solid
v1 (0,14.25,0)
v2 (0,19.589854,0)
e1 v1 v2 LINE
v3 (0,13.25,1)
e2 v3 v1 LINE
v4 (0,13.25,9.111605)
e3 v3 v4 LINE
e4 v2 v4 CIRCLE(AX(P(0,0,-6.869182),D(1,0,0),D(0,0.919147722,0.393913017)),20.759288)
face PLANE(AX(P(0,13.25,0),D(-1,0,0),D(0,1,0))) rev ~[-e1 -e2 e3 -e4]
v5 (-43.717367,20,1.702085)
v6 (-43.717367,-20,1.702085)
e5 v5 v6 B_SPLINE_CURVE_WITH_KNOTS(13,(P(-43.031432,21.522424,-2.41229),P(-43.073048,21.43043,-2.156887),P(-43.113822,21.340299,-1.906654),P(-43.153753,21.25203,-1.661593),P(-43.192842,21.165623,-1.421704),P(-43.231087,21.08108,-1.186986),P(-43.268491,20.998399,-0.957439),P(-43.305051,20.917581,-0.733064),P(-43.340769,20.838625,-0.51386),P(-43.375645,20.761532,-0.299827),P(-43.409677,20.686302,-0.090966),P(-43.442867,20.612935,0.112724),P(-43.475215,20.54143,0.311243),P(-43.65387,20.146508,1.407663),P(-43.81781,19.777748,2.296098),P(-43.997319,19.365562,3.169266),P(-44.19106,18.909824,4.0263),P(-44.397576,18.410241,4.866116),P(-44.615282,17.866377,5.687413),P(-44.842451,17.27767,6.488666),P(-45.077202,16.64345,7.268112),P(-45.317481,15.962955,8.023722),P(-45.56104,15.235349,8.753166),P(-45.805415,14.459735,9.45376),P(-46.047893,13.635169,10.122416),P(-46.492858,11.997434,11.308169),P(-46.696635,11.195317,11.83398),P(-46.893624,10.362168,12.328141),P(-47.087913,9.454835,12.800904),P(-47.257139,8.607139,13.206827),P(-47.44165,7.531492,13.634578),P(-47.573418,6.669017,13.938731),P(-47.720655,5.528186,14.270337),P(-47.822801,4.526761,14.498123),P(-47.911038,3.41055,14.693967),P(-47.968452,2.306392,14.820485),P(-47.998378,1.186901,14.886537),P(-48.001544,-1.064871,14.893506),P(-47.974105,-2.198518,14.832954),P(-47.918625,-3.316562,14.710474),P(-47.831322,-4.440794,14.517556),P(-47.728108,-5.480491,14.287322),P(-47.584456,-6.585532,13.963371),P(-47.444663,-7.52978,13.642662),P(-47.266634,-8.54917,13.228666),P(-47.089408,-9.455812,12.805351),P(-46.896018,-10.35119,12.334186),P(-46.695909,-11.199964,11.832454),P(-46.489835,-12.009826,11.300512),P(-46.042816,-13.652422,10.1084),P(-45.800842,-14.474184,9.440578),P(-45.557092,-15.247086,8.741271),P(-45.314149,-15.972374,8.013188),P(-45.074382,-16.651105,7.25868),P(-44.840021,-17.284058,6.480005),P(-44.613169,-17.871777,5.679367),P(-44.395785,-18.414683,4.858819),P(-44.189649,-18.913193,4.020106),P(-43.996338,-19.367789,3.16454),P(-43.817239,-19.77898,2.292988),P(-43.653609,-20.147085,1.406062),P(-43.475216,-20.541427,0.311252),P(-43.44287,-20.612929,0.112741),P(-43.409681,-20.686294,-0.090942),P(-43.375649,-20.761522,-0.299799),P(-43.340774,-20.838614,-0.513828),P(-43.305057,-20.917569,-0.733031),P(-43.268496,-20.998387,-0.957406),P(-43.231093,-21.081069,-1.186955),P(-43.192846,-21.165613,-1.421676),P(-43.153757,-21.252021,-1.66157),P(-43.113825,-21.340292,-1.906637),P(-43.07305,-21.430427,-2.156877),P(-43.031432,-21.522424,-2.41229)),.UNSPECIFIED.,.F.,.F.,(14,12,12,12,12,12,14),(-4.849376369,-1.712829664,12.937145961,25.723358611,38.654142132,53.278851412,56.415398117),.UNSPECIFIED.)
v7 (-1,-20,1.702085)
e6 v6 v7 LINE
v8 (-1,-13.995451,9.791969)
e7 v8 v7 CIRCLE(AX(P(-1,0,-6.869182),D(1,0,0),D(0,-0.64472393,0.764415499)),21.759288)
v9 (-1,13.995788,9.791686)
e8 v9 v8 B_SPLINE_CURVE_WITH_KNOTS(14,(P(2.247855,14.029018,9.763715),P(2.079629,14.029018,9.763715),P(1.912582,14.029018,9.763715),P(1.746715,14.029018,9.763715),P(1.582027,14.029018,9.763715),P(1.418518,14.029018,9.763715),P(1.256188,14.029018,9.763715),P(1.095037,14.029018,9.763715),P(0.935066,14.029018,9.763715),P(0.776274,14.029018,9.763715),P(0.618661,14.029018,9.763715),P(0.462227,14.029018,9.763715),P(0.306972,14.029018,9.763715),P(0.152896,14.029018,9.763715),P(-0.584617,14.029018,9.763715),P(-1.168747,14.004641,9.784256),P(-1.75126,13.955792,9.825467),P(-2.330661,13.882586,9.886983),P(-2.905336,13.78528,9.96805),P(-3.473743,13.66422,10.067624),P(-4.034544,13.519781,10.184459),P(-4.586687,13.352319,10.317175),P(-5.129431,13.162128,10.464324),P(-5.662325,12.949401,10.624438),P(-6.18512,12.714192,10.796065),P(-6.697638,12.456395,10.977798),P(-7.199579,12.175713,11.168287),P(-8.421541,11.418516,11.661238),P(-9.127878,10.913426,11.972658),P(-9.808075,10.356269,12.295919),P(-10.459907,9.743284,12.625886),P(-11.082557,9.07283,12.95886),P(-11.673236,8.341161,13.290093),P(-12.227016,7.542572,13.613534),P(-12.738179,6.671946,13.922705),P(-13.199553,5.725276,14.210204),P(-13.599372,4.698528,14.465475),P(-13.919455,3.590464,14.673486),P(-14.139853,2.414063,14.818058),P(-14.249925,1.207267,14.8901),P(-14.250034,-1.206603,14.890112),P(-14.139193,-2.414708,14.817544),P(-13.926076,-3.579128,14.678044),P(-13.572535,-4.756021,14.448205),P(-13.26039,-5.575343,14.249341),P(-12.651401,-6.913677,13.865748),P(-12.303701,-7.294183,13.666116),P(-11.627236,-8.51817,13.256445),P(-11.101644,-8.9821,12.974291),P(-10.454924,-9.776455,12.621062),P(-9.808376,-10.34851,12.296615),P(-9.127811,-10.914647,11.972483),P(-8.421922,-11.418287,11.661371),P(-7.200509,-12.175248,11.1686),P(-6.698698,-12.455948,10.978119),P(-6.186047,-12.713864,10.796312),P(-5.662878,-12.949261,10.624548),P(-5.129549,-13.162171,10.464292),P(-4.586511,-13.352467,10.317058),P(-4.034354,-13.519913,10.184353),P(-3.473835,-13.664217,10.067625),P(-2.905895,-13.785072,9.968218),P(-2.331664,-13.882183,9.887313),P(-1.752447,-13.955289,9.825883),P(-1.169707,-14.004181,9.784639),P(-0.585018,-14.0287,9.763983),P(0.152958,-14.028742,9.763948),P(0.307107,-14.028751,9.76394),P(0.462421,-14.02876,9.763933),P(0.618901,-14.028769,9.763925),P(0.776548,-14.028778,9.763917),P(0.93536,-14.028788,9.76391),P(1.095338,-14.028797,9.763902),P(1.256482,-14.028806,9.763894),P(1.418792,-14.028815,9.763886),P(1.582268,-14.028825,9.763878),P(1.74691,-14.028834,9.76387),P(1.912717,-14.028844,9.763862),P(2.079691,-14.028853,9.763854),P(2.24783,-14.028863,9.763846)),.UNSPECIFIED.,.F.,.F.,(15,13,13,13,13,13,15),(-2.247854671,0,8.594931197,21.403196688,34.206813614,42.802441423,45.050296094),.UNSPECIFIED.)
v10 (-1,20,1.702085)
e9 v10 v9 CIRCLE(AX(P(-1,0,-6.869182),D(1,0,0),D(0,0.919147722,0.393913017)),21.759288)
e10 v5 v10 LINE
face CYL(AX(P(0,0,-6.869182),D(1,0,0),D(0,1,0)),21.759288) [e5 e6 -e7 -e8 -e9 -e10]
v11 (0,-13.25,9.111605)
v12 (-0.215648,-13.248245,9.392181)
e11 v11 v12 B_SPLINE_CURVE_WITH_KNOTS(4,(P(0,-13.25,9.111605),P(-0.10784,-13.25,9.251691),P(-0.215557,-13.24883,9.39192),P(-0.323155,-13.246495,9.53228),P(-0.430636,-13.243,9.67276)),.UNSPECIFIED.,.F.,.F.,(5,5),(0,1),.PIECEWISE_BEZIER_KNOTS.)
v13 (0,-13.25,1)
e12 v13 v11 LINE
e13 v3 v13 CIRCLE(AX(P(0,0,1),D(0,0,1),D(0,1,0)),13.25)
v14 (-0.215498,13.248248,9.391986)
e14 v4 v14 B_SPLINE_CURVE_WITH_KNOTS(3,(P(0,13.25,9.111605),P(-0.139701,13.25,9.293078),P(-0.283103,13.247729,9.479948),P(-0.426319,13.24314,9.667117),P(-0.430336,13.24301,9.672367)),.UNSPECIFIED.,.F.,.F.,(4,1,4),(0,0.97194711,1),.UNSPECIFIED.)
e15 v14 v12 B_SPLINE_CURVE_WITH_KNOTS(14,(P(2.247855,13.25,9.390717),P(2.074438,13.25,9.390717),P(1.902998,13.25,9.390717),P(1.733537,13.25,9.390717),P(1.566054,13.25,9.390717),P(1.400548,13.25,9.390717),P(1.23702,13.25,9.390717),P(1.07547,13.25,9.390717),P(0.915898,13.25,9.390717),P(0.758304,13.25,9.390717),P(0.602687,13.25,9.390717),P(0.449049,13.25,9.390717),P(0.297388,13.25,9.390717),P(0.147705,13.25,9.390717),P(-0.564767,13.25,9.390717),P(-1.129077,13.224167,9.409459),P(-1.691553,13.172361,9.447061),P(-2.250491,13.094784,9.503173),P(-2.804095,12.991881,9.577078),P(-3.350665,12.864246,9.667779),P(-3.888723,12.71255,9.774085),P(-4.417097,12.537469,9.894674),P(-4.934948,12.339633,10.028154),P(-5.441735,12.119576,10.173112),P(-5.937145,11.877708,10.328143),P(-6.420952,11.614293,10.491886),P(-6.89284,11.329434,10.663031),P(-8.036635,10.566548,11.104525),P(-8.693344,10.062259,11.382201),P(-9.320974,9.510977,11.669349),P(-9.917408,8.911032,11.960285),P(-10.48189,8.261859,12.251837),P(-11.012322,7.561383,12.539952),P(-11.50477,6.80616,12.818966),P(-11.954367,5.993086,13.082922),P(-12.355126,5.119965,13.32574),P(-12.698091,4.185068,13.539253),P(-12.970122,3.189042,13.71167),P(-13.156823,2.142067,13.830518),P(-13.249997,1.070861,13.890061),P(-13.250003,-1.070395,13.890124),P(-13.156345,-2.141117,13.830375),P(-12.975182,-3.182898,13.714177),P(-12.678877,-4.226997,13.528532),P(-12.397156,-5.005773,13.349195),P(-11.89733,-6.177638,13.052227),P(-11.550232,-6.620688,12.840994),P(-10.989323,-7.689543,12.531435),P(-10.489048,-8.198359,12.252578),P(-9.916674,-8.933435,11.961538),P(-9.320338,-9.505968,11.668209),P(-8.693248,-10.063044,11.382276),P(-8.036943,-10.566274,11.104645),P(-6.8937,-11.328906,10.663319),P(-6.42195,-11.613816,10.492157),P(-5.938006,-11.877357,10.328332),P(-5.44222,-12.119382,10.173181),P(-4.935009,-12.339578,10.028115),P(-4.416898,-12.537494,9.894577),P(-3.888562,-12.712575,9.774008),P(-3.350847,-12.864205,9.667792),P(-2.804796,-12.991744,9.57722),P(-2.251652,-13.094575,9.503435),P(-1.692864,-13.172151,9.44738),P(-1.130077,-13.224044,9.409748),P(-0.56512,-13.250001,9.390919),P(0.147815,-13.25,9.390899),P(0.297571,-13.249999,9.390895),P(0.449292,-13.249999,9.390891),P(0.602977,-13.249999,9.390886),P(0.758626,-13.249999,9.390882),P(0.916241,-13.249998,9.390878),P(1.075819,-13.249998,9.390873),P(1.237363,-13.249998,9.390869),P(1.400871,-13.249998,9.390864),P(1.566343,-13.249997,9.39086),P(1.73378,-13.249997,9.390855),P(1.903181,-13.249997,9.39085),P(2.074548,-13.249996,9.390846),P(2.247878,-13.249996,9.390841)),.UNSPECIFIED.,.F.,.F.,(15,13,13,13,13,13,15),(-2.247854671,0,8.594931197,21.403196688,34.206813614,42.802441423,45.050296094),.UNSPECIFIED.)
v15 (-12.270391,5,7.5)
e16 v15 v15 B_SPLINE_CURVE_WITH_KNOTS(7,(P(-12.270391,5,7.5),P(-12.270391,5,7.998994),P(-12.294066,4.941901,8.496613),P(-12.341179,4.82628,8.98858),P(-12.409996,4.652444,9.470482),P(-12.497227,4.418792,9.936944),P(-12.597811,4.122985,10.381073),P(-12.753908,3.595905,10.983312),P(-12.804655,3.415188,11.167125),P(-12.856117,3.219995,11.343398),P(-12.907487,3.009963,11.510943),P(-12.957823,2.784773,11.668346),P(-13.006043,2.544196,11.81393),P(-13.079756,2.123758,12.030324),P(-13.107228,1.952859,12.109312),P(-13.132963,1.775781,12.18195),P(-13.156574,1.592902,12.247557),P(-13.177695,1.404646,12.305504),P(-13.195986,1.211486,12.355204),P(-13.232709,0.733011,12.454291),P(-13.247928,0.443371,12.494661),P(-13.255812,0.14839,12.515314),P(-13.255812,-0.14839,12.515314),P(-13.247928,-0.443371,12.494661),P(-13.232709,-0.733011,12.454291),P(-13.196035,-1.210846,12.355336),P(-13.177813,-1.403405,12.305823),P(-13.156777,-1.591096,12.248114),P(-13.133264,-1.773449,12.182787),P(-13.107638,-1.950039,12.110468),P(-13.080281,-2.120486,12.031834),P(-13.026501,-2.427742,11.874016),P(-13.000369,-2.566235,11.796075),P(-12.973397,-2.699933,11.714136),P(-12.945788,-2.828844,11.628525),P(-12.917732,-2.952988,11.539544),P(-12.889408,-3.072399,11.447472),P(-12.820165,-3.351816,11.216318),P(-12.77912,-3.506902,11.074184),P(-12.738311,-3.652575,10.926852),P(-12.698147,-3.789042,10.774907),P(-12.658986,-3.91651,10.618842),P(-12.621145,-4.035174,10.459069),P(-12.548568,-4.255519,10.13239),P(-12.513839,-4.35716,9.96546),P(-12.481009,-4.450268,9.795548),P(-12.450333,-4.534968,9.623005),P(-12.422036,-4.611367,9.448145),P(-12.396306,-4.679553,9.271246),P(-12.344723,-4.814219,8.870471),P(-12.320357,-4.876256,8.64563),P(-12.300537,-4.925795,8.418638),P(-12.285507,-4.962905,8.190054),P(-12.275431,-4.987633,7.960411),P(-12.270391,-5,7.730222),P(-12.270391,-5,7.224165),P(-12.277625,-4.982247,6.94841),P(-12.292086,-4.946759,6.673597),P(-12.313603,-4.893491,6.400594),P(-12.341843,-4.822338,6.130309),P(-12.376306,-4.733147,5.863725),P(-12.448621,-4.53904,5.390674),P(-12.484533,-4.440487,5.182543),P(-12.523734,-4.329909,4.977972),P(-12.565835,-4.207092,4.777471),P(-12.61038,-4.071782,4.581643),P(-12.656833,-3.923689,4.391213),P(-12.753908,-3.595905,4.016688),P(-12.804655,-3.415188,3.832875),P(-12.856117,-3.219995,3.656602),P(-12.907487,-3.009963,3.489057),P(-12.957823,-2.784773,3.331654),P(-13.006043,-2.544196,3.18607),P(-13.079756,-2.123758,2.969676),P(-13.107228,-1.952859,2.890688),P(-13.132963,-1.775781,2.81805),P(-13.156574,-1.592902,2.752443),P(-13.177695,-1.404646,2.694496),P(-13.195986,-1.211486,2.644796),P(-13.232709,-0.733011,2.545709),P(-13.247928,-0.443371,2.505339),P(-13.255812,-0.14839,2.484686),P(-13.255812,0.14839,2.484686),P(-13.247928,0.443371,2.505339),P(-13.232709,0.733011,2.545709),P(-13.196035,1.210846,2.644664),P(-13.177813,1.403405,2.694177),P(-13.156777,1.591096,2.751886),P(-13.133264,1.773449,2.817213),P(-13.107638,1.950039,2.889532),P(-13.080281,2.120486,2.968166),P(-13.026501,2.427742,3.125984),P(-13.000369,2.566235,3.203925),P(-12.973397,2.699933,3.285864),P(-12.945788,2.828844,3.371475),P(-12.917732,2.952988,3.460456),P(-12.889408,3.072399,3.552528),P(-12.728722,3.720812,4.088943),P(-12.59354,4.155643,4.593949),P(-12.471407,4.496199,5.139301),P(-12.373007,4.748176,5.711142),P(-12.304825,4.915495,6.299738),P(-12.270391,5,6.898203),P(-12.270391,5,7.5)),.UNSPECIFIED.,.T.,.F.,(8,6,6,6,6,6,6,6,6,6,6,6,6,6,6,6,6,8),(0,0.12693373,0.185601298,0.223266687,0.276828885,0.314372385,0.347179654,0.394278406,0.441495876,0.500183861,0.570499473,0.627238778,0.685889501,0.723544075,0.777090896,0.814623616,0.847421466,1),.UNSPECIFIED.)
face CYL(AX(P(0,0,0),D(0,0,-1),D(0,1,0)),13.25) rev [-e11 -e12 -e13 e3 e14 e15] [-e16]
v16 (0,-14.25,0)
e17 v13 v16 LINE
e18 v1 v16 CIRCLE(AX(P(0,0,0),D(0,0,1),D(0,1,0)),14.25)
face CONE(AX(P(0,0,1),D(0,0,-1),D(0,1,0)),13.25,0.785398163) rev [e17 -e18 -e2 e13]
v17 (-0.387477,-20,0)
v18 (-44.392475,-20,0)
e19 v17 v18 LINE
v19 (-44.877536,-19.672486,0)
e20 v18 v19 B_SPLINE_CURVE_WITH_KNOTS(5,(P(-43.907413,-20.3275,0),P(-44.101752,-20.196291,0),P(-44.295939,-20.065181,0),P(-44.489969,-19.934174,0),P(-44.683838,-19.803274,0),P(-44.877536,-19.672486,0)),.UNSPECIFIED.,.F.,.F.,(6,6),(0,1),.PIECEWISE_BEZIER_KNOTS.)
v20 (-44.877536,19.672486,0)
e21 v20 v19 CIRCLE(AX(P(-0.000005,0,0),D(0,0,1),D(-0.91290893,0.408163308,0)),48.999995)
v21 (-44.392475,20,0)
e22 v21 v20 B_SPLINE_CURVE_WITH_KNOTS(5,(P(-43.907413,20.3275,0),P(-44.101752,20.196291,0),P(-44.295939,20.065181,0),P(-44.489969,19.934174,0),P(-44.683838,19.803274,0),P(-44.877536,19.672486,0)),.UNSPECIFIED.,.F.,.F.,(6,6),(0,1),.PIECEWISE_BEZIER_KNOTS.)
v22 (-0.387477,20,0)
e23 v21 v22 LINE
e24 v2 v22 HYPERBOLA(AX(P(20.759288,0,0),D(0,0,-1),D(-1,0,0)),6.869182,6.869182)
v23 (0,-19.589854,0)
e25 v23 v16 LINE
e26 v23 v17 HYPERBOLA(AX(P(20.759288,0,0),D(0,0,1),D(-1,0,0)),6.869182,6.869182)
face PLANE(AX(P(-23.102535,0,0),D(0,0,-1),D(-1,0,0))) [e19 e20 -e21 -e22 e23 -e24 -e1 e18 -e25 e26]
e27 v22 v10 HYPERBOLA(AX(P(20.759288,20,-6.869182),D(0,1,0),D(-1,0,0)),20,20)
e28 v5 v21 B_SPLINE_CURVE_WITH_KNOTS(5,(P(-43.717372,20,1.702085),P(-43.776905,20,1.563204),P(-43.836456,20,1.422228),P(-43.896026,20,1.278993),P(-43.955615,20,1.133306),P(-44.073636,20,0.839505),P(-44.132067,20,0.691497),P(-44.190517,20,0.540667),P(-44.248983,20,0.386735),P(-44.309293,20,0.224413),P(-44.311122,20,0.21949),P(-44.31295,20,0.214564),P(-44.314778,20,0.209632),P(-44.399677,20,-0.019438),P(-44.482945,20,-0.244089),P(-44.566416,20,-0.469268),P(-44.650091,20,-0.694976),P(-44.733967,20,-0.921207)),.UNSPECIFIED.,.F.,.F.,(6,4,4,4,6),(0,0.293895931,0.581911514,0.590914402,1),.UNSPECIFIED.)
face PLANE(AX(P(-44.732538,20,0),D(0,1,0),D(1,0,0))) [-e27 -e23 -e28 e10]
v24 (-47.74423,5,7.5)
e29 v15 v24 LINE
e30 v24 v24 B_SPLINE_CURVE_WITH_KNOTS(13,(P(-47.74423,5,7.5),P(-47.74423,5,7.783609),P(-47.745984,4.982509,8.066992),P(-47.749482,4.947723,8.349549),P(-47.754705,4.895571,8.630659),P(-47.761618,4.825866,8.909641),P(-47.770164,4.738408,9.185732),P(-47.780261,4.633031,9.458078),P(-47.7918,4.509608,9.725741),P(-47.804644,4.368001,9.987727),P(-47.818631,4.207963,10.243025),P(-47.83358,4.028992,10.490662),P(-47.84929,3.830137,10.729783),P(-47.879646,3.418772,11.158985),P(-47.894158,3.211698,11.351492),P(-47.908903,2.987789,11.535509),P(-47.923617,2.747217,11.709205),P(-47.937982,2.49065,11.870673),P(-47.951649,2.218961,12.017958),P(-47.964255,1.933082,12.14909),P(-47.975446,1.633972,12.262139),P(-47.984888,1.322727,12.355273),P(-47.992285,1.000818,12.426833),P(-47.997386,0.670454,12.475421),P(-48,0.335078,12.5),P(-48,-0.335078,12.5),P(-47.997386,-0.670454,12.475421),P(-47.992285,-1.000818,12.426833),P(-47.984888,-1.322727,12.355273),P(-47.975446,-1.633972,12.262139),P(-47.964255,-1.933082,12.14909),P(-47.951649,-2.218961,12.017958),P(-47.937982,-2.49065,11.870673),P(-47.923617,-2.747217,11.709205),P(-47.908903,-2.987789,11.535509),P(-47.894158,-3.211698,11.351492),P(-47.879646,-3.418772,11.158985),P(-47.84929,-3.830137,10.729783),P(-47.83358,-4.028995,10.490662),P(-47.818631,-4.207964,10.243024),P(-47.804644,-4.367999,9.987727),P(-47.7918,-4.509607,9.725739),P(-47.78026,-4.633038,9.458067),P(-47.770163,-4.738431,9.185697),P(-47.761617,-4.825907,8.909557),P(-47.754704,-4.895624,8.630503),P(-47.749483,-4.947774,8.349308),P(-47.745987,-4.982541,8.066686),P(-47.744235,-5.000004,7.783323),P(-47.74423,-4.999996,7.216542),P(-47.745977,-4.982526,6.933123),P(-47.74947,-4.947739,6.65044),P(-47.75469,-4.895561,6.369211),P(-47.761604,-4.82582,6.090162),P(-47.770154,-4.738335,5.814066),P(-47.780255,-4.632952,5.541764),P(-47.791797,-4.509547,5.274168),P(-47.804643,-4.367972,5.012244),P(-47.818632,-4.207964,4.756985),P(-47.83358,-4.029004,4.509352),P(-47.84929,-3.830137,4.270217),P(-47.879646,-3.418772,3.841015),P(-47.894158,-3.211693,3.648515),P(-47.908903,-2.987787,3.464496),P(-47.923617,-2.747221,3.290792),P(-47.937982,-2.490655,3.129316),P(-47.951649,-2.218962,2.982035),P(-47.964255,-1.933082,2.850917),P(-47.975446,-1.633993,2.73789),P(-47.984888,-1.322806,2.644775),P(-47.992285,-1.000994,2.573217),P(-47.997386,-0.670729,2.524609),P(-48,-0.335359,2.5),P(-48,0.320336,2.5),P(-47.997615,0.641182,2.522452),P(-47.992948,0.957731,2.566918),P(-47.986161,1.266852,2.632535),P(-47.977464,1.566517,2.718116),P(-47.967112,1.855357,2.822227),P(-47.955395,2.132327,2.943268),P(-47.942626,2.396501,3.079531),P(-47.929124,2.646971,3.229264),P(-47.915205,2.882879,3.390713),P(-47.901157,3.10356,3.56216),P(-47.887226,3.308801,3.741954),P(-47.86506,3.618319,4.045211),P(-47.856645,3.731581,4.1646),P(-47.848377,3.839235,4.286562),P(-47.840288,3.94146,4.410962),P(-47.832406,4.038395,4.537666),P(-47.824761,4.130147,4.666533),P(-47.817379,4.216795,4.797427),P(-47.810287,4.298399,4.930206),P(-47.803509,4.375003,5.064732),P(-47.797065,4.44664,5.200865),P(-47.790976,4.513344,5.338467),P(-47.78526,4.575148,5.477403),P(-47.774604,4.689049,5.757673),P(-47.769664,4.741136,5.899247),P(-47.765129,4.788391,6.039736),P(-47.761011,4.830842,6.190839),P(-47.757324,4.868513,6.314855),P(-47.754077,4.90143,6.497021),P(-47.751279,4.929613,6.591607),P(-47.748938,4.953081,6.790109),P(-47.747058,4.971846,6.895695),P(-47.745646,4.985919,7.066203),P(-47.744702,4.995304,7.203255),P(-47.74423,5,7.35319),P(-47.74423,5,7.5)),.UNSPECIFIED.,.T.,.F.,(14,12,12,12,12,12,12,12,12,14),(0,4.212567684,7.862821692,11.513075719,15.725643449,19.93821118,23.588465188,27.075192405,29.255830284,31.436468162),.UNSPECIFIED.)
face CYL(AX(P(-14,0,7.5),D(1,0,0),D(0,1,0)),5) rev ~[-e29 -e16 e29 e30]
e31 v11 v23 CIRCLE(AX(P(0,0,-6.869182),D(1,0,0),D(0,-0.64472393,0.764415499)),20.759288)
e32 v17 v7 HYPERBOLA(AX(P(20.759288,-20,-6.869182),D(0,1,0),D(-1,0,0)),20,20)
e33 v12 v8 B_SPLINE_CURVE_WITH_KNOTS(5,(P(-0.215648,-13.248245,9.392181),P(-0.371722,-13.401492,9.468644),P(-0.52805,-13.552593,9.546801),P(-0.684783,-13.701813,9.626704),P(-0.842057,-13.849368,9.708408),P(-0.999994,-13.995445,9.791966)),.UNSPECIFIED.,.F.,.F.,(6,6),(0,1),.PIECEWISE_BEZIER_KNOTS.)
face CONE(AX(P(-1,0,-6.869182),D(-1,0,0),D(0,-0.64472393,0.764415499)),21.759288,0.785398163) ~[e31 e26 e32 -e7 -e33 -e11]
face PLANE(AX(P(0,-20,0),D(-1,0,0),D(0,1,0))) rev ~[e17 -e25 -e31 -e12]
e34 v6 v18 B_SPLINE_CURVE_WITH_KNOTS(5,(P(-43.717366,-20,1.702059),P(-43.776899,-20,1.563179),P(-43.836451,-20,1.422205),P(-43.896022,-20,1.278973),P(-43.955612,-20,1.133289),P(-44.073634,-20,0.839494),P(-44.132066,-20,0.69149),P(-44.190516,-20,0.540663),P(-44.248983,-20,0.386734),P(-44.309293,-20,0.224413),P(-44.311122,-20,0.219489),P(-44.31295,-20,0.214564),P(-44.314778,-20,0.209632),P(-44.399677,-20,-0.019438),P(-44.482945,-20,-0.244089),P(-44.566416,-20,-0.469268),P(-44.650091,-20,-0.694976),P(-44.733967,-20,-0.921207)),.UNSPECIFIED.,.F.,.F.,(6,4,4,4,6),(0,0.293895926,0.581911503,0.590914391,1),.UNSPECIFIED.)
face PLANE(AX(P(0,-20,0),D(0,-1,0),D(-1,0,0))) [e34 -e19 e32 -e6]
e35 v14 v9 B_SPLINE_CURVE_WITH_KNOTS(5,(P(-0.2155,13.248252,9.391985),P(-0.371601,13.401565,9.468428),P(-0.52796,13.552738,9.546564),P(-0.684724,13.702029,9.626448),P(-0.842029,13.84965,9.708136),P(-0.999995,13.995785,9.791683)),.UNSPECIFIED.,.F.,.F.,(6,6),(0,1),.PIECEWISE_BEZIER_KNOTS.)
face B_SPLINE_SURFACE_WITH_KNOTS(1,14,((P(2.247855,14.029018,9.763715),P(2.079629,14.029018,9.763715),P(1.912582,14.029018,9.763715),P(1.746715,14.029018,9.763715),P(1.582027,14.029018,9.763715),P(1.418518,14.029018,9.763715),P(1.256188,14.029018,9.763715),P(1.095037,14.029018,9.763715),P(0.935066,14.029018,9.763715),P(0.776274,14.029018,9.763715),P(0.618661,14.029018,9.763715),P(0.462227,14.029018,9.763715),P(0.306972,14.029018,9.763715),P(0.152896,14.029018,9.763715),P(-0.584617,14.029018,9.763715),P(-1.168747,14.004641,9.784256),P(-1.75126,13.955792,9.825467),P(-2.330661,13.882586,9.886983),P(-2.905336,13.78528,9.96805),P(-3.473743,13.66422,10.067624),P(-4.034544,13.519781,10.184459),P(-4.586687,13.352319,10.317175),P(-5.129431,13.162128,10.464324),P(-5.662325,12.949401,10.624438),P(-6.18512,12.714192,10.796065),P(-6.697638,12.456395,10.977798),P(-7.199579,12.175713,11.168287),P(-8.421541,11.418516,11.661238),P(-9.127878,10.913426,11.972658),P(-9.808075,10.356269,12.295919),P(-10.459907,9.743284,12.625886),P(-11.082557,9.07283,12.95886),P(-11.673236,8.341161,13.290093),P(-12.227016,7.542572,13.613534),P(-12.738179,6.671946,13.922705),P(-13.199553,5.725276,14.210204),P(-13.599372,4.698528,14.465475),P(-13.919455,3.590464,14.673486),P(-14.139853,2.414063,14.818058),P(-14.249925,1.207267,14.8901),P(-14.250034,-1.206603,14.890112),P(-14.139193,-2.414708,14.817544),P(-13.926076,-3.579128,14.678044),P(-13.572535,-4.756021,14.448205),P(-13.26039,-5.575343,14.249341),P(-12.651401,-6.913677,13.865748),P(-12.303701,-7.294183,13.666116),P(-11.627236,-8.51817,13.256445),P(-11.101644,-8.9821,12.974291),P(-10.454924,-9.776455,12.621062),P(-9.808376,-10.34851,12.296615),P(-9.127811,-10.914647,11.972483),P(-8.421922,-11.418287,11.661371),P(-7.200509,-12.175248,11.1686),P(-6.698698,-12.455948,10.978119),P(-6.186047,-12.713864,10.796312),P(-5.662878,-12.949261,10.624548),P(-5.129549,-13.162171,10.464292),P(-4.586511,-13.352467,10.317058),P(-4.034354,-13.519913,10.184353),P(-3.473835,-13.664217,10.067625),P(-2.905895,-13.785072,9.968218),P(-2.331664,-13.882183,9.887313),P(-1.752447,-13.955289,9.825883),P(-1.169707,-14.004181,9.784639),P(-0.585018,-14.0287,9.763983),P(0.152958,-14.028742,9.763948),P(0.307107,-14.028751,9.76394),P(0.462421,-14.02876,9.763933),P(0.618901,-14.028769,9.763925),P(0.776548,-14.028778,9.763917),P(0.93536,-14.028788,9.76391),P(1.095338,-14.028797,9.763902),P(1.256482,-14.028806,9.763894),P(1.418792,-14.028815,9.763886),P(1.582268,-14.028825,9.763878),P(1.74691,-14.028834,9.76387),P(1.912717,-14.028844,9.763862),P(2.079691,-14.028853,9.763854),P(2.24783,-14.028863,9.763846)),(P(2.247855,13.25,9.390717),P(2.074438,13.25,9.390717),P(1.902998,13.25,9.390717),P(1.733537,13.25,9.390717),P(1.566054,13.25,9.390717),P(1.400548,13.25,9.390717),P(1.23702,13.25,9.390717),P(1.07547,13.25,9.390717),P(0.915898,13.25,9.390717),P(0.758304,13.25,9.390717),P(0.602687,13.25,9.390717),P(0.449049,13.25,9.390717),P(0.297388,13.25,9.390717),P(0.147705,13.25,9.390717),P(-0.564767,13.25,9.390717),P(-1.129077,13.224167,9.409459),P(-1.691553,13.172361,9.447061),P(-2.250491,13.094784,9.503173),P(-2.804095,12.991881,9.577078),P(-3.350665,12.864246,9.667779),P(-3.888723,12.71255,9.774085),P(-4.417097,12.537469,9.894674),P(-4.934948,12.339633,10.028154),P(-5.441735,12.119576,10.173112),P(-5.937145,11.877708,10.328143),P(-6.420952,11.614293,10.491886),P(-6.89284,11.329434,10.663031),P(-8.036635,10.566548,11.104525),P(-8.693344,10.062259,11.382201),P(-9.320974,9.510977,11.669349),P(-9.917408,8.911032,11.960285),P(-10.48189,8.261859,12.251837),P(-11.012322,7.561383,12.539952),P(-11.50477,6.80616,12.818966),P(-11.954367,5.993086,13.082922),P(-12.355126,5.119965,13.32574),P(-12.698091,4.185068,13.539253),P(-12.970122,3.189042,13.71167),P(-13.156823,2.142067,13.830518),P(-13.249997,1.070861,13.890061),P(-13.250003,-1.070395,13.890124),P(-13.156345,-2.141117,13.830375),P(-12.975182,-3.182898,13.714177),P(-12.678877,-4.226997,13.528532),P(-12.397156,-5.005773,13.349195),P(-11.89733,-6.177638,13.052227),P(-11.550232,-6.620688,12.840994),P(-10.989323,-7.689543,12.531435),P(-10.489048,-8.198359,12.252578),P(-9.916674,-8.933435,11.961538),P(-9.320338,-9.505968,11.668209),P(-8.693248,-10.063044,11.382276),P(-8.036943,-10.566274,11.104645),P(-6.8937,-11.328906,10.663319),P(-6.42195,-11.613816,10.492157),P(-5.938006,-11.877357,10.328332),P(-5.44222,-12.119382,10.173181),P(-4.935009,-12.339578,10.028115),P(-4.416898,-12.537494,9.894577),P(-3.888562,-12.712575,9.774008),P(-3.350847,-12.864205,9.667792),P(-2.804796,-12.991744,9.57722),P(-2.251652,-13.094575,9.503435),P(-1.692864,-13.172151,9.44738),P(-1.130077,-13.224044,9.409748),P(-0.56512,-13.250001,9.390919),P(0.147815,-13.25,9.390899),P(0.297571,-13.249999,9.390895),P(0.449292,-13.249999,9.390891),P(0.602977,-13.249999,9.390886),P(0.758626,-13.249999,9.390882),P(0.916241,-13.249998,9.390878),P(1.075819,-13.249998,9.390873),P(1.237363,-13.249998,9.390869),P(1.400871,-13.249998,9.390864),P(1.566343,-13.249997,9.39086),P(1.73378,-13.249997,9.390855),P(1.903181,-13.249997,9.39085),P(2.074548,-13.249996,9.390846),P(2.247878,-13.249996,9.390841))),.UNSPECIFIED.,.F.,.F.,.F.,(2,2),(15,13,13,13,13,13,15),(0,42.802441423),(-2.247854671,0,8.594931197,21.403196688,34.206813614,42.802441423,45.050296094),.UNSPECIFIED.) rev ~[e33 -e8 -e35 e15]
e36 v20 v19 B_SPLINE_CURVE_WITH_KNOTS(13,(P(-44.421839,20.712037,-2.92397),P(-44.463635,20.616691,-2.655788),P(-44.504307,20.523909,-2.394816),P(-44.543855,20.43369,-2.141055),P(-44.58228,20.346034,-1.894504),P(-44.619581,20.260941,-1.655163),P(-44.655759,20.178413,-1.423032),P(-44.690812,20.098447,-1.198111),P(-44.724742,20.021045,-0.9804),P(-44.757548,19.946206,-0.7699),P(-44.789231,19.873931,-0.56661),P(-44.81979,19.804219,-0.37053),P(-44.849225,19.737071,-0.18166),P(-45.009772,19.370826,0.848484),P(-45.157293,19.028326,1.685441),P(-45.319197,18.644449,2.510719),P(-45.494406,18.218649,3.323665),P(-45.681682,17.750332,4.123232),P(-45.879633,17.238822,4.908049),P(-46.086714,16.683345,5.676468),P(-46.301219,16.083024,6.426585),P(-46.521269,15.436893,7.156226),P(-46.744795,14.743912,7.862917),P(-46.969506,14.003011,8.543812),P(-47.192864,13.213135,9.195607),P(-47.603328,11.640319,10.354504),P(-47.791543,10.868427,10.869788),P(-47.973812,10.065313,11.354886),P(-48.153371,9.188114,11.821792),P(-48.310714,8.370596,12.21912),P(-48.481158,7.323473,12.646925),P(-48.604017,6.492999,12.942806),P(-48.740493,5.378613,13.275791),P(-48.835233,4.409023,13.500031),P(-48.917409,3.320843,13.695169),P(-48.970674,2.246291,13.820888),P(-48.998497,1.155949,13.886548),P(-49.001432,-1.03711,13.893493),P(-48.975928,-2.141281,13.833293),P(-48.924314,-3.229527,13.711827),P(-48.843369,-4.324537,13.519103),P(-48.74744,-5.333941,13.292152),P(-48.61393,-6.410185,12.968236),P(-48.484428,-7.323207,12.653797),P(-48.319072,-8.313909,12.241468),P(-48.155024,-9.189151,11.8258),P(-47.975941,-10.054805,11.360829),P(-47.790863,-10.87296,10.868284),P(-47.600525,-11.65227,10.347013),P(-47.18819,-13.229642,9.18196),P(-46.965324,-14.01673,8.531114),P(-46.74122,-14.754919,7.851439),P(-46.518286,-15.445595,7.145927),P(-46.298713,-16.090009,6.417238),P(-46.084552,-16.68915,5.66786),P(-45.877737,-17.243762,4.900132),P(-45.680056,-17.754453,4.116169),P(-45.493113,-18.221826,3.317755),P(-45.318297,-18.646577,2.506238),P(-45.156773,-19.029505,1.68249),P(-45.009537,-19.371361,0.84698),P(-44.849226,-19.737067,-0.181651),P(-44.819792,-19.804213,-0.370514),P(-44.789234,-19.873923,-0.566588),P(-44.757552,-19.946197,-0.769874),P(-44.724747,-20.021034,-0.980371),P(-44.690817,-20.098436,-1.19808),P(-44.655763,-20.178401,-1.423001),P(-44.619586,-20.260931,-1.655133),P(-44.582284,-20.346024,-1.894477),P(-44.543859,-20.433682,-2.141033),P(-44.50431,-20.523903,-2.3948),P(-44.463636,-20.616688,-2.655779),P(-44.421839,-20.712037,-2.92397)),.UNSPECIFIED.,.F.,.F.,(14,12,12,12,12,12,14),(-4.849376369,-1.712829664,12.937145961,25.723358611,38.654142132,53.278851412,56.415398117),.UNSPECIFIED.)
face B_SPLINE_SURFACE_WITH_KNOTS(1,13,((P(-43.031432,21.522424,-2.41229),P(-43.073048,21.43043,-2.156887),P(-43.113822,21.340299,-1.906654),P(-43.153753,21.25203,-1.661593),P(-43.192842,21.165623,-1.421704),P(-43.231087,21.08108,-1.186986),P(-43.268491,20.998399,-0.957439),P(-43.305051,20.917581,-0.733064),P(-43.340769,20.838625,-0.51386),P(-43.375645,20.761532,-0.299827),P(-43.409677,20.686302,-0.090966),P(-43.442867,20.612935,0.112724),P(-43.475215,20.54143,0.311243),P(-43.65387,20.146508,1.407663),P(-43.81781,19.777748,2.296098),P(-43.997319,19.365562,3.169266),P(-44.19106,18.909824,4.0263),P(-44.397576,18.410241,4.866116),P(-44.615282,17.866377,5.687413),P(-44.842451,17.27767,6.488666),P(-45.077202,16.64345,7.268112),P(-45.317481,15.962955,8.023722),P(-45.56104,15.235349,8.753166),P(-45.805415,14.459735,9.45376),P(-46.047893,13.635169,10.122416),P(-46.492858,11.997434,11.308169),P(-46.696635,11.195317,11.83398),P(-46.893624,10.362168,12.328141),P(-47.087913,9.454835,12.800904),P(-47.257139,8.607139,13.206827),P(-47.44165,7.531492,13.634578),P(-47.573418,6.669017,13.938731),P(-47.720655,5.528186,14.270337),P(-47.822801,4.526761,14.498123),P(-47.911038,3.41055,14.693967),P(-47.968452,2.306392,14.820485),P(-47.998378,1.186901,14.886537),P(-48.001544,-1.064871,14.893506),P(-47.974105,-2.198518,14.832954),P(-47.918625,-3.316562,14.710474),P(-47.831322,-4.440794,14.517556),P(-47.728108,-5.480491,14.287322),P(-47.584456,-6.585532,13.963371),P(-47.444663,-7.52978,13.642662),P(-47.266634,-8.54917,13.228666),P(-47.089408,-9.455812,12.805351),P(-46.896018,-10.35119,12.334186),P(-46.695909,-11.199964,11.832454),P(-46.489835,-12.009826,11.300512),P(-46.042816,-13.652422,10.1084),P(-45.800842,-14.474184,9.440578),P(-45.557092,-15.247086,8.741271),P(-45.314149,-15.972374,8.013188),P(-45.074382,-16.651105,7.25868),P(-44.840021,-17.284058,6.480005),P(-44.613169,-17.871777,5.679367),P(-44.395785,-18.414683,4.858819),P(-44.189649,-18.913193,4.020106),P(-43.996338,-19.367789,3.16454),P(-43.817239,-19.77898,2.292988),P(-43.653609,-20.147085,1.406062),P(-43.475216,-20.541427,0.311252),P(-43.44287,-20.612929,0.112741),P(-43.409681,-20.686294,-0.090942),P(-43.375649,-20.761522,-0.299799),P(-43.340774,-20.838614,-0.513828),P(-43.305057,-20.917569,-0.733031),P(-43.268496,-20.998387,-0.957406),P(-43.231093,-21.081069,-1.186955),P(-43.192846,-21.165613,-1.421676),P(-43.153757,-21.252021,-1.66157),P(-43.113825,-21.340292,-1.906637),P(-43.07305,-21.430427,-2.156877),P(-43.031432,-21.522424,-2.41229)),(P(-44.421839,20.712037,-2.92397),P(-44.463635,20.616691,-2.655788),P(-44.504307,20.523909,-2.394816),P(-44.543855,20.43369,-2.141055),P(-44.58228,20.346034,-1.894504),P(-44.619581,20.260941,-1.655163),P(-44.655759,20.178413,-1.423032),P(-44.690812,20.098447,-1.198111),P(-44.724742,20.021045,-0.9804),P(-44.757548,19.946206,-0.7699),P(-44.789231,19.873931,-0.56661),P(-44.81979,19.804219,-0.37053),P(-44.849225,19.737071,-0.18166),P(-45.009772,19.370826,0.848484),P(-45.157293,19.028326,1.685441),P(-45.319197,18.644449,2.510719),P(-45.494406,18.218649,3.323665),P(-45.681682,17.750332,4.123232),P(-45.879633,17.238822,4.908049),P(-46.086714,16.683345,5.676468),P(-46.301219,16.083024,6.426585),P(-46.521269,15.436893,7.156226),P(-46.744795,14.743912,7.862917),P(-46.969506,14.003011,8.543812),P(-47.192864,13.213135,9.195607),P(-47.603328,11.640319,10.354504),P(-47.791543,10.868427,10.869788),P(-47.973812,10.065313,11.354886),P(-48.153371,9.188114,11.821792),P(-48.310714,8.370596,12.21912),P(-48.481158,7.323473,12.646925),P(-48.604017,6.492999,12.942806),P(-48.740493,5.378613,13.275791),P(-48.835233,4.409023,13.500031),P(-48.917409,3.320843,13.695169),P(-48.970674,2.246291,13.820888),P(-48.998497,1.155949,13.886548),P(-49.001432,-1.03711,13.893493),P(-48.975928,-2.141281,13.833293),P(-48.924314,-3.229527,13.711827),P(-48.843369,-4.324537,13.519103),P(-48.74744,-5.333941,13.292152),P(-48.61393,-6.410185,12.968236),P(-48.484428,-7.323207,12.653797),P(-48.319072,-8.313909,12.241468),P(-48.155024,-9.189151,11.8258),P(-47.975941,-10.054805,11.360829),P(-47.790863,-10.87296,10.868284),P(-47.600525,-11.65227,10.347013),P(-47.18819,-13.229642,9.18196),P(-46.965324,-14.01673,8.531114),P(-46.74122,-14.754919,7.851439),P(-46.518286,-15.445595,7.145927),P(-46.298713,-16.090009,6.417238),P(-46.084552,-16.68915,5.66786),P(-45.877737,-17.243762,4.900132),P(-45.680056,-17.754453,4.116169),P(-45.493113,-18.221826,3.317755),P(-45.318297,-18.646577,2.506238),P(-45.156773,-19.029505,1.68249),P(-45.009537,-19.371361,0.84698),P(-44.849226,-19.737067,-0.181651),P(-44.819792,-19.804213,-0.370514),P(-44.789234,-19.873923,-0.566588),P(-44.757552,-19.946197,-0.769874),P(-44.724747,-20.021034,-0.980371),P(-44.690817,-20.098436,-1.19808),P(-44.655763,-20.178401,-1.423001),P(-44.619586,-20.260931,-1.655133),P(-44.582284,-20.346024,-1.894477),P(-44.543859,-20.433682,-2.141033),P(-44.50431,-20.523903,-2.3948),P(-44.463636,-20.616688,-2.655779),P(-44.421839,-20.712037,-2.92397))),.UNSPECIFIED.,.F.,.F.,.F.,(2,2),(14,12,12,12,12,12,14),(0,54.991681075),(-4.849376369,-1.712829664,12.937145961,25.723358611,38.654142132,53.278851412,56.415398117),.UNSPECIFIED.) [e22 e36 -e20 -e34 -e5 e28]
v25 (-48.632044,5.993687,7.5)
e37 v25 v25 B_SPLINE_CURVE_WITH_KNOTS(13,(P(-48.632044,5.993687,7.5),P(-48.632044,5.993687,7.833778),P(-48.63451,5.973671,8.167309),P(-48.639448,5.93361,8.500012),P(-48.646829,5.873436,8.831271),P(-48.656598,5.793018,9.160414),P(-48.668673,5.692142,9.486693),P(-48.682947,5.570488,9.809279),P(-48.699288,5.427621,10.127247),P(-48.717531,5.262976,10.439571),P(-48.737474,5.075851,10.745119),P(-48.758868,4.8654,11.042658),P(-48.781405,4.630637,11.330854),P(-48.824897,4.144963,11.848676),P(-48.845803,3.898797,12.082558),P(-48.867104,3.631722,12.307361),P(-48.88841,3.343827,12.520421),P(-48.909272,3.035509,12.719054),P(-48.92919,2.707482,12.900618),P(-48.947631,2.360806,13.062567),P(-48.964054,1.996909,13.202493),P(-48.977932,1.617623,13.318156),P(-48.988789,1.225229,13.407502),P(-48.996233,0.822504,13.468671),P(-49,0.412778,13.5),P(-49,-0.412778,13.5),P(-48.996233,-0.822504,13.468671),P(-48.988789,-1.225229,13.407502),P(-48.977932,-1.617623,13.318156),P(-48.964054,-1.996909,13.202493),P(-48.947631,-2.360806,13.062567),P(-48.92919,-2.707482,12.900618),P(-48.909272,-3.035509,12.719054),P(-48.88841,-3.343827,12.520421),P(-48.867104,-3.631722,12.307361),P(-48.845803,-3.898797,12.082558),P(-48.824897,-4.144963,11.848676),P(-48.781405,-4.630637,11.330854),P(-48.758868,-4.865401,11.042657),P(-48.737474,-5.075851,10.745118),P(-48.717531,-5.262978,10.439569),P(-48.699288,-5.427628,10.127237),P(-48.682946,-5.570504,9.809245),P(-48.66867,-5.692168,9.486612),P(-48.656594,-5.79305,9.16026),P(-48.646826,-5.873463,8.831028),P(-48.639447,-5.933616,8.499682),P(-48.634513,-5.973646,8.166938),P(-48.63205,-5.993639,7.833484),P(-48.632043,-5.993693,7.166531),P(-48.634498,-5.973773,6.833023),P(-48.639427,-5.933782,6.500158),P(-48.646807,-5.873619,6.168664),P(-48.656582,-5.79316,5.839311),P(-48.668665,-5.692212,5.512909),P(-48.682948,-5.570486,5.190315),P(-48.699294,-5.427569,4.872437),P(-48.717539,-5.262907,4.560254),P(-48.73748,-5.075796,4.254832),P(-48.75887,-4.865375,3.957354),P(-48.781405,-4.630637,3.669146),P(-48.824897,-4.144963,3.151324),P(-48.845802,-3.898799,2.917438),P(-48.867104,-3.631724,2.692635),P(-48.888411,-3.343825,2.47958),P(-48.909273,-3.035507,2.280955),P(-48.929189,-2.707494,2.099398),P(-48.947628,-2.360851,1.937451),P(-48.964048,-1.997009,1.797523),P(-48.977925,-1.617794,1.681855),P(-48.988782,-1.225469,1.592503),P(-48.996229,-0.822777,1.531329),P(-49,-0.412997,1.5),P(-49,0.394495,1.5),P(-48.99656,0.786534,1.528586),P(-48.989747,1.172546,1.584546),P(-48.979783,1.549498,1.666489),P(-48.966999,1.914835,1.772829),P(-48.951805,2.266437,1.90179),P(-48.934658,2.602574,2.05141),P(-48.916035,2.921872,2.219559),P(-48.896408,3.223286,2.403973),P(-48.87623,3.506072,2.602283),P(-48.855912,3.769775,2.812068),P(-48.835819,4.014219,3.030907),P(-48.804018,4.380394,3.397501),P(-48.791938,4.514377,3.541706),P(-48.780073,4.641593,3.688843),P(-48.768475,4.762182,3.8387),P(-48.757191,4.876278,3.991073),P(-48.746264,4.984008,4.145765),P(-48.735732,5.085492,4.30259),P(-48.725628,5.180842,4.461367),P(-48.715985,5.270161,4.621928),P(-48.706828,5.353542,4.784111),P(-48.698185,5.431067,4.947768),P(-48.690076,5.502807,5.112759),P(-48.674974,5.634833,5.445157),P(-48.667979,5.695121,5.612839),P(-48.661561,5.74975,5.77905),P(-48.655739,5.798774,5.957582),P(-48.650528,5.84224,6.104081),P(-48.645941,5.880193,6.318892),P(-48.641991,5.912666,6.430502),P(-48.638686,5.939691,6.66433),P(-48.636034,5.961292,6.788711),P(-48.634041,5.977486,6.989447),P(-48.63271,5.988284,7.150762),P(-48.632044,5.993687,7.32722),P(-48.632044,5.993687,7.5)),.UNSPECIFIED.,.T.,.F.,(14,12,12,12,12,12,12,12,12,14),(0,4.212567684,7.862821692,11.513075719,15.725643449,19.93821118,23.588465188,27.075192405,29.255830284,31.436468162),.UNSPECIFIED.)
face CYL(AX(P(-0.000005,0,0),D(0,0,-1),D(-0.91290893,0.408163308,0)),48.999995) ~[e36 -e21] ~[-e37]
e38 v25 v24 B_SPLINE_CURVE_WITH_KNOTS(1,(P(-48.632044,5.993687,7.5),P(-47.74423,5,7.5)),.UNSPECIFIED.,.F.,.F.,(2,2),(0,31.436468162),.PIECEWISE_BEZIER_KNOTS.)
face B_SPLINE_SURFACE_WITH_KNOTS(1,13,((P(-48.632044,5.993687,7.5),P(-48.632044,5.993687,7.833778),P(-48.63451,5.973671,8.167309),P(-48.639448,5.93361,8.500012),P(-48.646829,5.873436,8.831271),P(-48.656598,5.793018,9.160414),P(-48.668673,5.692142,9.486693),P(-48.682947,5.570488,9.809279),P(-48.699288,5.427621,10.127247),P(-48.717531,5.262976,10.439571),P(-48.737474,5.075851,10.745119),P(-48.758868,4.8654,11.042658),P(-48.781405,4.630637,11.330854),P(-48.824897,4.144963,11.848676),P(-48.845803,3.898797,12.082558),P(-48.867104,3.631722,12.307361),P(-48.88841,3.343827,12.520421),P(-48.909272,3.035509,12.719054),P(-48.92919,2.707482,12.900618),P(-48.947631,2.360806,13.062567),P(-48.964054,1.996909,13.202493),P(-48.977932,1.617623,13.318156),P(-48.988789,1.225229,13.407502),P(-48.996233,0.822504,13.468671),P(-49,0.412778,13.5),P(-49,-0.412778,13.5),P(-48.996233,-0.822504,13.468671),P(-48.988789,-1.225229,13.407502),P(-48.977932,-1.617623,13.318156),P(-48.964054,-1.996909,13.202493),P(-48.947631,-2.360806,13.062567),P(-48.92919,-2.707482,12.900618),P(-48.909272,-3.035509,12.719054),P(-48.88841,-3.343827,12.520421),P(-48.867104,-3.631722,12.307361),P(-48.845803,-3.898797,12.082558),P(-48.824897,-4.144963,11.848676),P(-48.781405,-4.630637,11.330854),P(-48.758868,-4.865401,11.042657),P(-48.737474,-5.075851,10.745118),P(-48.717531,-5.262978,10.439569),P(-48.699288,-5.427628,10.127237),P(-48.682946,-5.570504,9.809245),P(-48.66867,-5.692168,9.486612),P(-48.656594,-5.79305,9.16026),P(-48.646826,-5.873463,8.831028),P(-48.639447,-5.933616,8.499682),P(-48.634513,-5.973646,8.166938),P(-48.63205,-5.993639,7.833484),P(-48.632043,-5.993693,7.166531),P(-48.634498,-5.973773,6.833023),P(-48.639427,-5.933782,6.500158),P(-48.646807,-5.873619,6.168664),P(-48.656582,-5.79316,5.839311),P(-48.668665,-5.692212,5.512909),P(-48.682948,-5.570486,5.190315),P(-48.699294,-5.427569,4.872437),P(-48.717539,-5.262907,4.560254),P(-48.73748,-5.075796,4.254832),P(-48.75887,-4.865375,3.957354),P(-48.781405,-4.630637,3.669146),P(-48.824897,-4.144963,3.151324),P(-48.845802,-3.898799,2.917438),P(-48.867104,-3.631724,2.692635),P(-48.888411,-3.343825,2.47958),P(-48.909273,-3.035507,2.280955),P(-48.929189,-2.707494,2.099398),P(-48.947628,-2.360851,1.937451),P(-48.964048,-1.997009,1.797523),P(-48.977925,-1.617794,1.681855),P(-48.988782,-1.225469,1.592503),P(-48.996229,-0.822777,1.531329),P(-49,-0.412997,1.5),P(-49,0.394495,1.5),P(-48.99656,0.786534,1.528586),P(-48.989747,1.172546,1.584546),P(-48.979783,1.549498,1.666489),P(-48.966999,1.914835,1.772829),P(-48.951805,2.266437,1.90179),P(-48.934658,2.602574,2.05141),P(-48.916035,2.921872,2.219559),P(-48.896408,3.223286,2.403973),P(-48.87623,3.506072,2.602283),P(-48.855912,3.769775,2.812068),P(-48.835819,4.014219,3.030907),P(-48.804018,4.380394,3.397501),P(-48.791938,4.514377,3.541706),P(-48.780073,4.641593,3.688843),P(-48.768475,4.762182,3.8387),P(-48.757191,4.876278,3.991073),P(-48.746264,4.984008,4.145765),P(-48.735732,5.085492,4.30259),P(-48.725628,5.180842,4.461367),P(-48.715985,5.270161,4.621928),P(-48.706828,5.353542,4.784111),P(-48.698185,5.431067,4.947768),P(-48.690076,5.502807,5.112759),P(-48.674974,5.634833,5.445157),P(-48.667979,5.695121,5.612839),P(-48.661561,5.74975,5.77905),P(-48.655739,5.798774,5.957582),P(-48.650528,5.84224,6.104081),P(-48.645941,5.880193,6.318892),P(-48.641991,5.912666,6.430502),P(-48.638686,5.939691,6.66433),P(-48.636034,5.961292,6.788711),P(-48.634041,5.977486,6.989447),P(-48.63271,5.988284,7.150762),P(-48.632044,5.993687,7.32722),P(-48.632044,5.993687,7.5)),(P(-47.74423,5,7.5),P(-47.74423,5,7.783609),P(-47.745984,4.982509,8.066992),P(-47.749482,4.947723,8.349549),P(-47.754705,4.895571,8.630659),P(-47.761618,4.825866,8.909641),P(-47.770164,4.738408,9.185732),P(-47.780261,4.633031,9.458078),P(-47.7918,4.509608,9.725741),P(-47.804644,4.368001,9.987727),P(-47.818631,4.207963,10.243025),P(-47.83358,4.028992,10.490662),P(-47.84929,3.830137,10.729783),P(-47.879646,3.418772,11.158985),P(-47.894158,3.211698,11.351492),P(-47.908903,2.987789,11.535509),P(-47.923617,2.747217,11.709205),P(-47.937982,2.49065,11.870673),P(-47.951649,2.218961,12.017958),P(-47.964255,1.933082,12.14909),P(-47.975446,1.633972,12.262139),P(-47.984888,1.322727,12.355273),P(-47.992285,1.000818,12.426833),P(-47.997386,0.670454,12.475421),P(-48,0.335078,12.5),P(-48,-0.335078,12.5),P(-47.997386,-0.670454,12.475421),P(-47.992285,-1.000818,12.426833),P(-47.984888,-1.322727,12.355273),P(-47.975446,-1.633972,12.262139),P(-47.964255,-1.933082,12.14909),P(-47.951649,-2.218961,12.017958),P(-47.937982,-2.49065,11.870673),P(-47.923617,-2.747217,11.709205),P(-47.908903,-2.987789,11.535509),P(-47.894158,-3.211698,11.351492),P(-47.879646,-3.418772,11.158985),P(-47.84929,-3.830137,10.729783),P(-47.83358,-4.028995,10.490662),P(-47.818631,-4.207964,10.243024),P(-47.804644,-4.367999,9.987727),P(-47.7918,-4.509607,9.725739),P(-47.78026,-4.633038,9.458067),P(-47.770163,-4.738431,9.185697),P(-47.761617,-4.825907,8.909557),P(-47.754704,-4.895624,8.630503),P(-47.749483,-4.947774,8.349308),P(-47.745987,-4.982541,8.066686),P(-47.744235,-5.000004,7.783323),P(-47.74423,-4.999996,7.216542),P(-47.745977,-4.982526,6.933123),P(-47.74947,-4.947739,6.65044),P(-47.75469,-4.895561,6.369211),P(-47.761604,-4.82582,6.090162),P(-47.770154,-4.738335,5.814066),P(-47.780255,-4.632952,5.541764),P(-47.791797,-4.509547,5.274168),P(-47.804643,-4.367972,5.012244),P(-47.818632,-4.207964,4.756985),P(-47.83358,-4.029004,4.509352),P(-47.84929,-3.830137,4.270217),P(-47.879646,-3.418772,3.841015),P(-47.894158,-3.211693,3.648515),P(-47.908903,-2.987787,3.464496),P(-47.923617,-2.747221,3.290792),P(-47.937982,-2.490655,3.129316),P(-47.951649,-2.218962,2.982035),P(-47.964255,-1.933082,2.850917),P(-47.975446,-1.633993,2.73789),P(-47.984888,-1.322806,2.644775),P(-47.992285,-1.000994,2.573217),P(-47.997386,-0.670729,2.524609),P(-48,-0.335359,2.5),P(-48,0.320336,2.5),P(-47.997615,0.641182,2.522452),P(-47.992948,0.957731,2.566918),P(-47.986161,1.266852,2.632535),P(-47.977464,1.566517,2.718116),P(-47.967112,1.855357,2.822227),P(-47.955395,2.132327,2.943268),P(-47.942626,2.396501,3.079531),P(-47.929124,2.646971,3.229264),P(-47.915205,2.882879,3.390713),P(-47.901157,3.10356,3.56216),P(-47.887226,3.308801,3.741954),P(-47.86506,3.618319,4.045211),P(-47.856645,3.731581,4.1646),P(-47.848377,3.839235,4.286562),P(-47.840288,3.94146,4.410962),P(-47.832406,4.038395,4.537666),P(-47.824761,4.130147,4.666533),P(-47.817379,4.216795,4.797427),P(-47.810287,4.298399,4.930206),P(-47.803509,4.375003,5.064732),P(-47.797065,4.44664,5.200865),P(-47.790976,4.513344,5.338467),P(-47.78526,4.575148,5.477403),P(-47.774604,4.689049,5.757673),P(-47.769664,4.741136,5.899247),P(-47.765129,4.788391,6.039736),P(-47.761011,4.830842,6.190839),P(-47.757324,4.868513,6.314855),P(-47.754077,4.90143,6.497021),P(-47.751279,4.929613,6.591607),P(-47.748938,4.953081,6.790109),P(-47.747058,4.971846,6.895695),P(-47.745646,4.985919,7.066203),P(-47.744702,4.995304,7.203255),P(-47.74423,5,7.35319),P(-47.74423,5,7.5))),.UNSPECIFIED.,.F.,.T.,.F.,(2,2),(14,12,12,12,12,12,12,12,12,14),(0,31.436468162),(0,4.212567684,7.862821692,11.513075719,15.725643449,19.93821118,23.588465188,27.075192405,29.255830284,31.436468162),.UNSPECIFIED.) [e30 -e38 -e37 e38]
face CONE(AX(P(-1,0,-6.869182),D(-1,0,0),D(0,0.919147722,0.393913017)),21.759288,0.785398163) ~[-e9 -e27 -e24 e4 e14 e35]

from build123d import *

# Parameters (mm, degrees)
PAD_DEPTH         = 15
SKETCH001_R       = 5
POCKET_DEPTH      = 35.001
POCKET_DEPTH_BACK = -14.001
SKETCH002_R       = 33.208943
SKETCH002_R_2     = 21.759288
POCKET001_DEPTH   = 49.001
CHAMFER_SIZE      = 1
CHAMFER001_SIZE   = 1
CHAMFER002_SIZE   = 1
CHAMFER003_SIZE   = 1
CHAMFER004_SIZE   = 1
CHAMFER005_SIZE   = 1


with BuildPart() as part:
    # Sketch → Pad (new body)
    with BuildSketch(Plane.XY):
        with BuildLine():
            ThreePointArc((0, 13.25), (-13.25, 0), (0, -13.25))
            Line((0, -20), (0, -13.25))
            Line((0, -20), (-44.732538, -20))
            ThreePointArc((-44.732538, 20), (-49, 0), (-44.732538, -20))
            Line((-44.732538, 20), (0, 20))
            Line((0, 13.25), (0, 20))
        make_face()
    extrude(amount=PAD_DEPTH)

    # Sketch001 → Pocket (cut, two sides)
    with BuildSketch(Plane.YZ.offset(-14)) as pocket_sk:
        with Locations((0, 7.5)):
            Circle(SKETCH001_R)
    extrude(amount=-POCKET_DEPTH, mode=Mode.SUBTRACT)
    extrude(pocket_sk.sketch, amount=-POCKET_DEPTH_BACK, mode=Mode.SUBTRACT)

    # Sketch002 → Pocket001 (cut, through all)
    with BuildSketch(Plane.YZ):
        with Locations((0, -6.869182)):
            Circle(SKETCH002_R)
        with Locations((0, -6.869182)):
            Circle(SKETCH002_R_2, mode=Mode.SUBTRACT)
    extrude(amount=-POCKET001_DEPTH, mode=Mode.SUBTRACT)

    # Chamfer
    chamfer_edges = [part.edges().sort_by_distance(p)[0] for p in [
        (-48.74423, -5, 7.5),
    ]]
    chamfer(chamfer_edges, length=CHAMFER_SIZE)

    # Chamfer001
    chamfer001_edges = [part.edges().sort_by_distance(p)[0] for p in [
        (-13.25, 0, 0),
    ]]
    chamfer(chamfer001_edges, length=CHAMFER001_SIZE)

    # Chamfer002
    chamfer002_edges = [part.edges().sort_by_distance(p)[0] for p in [
        (-49, 0, 14.890106),
    ]]
    chamfer(chamfer002_edges, length=CHAMFER002_SIZE)

    # Chamfer003
    chamfer003_edges = [part.edges().sort_by_distance(p)[0] for p in [
        (-13.25, 0, 14.890106),
    ]]
    chamfer(chamfer003_edges, length=CHAMFER003_SIZE)

    # Chamfer004
    chamfer004_edges = [part.edges().sort_by_distance(p)[0] for p in [
        (0, -17.48534, 6.081861),
    ]]
    chamfer(chamfer004_edges, length=CHAMFER004_SIZE)

    # Chamfer005
    chamfer005_edges = [part.edges().sort_by_distance(p)[0] for p in [
        (0, 17.485451, 6.081711),
    ]]
    chamfer(chamfer005_edges, length=CHAMFER005_SIZE)


solid = part.part
